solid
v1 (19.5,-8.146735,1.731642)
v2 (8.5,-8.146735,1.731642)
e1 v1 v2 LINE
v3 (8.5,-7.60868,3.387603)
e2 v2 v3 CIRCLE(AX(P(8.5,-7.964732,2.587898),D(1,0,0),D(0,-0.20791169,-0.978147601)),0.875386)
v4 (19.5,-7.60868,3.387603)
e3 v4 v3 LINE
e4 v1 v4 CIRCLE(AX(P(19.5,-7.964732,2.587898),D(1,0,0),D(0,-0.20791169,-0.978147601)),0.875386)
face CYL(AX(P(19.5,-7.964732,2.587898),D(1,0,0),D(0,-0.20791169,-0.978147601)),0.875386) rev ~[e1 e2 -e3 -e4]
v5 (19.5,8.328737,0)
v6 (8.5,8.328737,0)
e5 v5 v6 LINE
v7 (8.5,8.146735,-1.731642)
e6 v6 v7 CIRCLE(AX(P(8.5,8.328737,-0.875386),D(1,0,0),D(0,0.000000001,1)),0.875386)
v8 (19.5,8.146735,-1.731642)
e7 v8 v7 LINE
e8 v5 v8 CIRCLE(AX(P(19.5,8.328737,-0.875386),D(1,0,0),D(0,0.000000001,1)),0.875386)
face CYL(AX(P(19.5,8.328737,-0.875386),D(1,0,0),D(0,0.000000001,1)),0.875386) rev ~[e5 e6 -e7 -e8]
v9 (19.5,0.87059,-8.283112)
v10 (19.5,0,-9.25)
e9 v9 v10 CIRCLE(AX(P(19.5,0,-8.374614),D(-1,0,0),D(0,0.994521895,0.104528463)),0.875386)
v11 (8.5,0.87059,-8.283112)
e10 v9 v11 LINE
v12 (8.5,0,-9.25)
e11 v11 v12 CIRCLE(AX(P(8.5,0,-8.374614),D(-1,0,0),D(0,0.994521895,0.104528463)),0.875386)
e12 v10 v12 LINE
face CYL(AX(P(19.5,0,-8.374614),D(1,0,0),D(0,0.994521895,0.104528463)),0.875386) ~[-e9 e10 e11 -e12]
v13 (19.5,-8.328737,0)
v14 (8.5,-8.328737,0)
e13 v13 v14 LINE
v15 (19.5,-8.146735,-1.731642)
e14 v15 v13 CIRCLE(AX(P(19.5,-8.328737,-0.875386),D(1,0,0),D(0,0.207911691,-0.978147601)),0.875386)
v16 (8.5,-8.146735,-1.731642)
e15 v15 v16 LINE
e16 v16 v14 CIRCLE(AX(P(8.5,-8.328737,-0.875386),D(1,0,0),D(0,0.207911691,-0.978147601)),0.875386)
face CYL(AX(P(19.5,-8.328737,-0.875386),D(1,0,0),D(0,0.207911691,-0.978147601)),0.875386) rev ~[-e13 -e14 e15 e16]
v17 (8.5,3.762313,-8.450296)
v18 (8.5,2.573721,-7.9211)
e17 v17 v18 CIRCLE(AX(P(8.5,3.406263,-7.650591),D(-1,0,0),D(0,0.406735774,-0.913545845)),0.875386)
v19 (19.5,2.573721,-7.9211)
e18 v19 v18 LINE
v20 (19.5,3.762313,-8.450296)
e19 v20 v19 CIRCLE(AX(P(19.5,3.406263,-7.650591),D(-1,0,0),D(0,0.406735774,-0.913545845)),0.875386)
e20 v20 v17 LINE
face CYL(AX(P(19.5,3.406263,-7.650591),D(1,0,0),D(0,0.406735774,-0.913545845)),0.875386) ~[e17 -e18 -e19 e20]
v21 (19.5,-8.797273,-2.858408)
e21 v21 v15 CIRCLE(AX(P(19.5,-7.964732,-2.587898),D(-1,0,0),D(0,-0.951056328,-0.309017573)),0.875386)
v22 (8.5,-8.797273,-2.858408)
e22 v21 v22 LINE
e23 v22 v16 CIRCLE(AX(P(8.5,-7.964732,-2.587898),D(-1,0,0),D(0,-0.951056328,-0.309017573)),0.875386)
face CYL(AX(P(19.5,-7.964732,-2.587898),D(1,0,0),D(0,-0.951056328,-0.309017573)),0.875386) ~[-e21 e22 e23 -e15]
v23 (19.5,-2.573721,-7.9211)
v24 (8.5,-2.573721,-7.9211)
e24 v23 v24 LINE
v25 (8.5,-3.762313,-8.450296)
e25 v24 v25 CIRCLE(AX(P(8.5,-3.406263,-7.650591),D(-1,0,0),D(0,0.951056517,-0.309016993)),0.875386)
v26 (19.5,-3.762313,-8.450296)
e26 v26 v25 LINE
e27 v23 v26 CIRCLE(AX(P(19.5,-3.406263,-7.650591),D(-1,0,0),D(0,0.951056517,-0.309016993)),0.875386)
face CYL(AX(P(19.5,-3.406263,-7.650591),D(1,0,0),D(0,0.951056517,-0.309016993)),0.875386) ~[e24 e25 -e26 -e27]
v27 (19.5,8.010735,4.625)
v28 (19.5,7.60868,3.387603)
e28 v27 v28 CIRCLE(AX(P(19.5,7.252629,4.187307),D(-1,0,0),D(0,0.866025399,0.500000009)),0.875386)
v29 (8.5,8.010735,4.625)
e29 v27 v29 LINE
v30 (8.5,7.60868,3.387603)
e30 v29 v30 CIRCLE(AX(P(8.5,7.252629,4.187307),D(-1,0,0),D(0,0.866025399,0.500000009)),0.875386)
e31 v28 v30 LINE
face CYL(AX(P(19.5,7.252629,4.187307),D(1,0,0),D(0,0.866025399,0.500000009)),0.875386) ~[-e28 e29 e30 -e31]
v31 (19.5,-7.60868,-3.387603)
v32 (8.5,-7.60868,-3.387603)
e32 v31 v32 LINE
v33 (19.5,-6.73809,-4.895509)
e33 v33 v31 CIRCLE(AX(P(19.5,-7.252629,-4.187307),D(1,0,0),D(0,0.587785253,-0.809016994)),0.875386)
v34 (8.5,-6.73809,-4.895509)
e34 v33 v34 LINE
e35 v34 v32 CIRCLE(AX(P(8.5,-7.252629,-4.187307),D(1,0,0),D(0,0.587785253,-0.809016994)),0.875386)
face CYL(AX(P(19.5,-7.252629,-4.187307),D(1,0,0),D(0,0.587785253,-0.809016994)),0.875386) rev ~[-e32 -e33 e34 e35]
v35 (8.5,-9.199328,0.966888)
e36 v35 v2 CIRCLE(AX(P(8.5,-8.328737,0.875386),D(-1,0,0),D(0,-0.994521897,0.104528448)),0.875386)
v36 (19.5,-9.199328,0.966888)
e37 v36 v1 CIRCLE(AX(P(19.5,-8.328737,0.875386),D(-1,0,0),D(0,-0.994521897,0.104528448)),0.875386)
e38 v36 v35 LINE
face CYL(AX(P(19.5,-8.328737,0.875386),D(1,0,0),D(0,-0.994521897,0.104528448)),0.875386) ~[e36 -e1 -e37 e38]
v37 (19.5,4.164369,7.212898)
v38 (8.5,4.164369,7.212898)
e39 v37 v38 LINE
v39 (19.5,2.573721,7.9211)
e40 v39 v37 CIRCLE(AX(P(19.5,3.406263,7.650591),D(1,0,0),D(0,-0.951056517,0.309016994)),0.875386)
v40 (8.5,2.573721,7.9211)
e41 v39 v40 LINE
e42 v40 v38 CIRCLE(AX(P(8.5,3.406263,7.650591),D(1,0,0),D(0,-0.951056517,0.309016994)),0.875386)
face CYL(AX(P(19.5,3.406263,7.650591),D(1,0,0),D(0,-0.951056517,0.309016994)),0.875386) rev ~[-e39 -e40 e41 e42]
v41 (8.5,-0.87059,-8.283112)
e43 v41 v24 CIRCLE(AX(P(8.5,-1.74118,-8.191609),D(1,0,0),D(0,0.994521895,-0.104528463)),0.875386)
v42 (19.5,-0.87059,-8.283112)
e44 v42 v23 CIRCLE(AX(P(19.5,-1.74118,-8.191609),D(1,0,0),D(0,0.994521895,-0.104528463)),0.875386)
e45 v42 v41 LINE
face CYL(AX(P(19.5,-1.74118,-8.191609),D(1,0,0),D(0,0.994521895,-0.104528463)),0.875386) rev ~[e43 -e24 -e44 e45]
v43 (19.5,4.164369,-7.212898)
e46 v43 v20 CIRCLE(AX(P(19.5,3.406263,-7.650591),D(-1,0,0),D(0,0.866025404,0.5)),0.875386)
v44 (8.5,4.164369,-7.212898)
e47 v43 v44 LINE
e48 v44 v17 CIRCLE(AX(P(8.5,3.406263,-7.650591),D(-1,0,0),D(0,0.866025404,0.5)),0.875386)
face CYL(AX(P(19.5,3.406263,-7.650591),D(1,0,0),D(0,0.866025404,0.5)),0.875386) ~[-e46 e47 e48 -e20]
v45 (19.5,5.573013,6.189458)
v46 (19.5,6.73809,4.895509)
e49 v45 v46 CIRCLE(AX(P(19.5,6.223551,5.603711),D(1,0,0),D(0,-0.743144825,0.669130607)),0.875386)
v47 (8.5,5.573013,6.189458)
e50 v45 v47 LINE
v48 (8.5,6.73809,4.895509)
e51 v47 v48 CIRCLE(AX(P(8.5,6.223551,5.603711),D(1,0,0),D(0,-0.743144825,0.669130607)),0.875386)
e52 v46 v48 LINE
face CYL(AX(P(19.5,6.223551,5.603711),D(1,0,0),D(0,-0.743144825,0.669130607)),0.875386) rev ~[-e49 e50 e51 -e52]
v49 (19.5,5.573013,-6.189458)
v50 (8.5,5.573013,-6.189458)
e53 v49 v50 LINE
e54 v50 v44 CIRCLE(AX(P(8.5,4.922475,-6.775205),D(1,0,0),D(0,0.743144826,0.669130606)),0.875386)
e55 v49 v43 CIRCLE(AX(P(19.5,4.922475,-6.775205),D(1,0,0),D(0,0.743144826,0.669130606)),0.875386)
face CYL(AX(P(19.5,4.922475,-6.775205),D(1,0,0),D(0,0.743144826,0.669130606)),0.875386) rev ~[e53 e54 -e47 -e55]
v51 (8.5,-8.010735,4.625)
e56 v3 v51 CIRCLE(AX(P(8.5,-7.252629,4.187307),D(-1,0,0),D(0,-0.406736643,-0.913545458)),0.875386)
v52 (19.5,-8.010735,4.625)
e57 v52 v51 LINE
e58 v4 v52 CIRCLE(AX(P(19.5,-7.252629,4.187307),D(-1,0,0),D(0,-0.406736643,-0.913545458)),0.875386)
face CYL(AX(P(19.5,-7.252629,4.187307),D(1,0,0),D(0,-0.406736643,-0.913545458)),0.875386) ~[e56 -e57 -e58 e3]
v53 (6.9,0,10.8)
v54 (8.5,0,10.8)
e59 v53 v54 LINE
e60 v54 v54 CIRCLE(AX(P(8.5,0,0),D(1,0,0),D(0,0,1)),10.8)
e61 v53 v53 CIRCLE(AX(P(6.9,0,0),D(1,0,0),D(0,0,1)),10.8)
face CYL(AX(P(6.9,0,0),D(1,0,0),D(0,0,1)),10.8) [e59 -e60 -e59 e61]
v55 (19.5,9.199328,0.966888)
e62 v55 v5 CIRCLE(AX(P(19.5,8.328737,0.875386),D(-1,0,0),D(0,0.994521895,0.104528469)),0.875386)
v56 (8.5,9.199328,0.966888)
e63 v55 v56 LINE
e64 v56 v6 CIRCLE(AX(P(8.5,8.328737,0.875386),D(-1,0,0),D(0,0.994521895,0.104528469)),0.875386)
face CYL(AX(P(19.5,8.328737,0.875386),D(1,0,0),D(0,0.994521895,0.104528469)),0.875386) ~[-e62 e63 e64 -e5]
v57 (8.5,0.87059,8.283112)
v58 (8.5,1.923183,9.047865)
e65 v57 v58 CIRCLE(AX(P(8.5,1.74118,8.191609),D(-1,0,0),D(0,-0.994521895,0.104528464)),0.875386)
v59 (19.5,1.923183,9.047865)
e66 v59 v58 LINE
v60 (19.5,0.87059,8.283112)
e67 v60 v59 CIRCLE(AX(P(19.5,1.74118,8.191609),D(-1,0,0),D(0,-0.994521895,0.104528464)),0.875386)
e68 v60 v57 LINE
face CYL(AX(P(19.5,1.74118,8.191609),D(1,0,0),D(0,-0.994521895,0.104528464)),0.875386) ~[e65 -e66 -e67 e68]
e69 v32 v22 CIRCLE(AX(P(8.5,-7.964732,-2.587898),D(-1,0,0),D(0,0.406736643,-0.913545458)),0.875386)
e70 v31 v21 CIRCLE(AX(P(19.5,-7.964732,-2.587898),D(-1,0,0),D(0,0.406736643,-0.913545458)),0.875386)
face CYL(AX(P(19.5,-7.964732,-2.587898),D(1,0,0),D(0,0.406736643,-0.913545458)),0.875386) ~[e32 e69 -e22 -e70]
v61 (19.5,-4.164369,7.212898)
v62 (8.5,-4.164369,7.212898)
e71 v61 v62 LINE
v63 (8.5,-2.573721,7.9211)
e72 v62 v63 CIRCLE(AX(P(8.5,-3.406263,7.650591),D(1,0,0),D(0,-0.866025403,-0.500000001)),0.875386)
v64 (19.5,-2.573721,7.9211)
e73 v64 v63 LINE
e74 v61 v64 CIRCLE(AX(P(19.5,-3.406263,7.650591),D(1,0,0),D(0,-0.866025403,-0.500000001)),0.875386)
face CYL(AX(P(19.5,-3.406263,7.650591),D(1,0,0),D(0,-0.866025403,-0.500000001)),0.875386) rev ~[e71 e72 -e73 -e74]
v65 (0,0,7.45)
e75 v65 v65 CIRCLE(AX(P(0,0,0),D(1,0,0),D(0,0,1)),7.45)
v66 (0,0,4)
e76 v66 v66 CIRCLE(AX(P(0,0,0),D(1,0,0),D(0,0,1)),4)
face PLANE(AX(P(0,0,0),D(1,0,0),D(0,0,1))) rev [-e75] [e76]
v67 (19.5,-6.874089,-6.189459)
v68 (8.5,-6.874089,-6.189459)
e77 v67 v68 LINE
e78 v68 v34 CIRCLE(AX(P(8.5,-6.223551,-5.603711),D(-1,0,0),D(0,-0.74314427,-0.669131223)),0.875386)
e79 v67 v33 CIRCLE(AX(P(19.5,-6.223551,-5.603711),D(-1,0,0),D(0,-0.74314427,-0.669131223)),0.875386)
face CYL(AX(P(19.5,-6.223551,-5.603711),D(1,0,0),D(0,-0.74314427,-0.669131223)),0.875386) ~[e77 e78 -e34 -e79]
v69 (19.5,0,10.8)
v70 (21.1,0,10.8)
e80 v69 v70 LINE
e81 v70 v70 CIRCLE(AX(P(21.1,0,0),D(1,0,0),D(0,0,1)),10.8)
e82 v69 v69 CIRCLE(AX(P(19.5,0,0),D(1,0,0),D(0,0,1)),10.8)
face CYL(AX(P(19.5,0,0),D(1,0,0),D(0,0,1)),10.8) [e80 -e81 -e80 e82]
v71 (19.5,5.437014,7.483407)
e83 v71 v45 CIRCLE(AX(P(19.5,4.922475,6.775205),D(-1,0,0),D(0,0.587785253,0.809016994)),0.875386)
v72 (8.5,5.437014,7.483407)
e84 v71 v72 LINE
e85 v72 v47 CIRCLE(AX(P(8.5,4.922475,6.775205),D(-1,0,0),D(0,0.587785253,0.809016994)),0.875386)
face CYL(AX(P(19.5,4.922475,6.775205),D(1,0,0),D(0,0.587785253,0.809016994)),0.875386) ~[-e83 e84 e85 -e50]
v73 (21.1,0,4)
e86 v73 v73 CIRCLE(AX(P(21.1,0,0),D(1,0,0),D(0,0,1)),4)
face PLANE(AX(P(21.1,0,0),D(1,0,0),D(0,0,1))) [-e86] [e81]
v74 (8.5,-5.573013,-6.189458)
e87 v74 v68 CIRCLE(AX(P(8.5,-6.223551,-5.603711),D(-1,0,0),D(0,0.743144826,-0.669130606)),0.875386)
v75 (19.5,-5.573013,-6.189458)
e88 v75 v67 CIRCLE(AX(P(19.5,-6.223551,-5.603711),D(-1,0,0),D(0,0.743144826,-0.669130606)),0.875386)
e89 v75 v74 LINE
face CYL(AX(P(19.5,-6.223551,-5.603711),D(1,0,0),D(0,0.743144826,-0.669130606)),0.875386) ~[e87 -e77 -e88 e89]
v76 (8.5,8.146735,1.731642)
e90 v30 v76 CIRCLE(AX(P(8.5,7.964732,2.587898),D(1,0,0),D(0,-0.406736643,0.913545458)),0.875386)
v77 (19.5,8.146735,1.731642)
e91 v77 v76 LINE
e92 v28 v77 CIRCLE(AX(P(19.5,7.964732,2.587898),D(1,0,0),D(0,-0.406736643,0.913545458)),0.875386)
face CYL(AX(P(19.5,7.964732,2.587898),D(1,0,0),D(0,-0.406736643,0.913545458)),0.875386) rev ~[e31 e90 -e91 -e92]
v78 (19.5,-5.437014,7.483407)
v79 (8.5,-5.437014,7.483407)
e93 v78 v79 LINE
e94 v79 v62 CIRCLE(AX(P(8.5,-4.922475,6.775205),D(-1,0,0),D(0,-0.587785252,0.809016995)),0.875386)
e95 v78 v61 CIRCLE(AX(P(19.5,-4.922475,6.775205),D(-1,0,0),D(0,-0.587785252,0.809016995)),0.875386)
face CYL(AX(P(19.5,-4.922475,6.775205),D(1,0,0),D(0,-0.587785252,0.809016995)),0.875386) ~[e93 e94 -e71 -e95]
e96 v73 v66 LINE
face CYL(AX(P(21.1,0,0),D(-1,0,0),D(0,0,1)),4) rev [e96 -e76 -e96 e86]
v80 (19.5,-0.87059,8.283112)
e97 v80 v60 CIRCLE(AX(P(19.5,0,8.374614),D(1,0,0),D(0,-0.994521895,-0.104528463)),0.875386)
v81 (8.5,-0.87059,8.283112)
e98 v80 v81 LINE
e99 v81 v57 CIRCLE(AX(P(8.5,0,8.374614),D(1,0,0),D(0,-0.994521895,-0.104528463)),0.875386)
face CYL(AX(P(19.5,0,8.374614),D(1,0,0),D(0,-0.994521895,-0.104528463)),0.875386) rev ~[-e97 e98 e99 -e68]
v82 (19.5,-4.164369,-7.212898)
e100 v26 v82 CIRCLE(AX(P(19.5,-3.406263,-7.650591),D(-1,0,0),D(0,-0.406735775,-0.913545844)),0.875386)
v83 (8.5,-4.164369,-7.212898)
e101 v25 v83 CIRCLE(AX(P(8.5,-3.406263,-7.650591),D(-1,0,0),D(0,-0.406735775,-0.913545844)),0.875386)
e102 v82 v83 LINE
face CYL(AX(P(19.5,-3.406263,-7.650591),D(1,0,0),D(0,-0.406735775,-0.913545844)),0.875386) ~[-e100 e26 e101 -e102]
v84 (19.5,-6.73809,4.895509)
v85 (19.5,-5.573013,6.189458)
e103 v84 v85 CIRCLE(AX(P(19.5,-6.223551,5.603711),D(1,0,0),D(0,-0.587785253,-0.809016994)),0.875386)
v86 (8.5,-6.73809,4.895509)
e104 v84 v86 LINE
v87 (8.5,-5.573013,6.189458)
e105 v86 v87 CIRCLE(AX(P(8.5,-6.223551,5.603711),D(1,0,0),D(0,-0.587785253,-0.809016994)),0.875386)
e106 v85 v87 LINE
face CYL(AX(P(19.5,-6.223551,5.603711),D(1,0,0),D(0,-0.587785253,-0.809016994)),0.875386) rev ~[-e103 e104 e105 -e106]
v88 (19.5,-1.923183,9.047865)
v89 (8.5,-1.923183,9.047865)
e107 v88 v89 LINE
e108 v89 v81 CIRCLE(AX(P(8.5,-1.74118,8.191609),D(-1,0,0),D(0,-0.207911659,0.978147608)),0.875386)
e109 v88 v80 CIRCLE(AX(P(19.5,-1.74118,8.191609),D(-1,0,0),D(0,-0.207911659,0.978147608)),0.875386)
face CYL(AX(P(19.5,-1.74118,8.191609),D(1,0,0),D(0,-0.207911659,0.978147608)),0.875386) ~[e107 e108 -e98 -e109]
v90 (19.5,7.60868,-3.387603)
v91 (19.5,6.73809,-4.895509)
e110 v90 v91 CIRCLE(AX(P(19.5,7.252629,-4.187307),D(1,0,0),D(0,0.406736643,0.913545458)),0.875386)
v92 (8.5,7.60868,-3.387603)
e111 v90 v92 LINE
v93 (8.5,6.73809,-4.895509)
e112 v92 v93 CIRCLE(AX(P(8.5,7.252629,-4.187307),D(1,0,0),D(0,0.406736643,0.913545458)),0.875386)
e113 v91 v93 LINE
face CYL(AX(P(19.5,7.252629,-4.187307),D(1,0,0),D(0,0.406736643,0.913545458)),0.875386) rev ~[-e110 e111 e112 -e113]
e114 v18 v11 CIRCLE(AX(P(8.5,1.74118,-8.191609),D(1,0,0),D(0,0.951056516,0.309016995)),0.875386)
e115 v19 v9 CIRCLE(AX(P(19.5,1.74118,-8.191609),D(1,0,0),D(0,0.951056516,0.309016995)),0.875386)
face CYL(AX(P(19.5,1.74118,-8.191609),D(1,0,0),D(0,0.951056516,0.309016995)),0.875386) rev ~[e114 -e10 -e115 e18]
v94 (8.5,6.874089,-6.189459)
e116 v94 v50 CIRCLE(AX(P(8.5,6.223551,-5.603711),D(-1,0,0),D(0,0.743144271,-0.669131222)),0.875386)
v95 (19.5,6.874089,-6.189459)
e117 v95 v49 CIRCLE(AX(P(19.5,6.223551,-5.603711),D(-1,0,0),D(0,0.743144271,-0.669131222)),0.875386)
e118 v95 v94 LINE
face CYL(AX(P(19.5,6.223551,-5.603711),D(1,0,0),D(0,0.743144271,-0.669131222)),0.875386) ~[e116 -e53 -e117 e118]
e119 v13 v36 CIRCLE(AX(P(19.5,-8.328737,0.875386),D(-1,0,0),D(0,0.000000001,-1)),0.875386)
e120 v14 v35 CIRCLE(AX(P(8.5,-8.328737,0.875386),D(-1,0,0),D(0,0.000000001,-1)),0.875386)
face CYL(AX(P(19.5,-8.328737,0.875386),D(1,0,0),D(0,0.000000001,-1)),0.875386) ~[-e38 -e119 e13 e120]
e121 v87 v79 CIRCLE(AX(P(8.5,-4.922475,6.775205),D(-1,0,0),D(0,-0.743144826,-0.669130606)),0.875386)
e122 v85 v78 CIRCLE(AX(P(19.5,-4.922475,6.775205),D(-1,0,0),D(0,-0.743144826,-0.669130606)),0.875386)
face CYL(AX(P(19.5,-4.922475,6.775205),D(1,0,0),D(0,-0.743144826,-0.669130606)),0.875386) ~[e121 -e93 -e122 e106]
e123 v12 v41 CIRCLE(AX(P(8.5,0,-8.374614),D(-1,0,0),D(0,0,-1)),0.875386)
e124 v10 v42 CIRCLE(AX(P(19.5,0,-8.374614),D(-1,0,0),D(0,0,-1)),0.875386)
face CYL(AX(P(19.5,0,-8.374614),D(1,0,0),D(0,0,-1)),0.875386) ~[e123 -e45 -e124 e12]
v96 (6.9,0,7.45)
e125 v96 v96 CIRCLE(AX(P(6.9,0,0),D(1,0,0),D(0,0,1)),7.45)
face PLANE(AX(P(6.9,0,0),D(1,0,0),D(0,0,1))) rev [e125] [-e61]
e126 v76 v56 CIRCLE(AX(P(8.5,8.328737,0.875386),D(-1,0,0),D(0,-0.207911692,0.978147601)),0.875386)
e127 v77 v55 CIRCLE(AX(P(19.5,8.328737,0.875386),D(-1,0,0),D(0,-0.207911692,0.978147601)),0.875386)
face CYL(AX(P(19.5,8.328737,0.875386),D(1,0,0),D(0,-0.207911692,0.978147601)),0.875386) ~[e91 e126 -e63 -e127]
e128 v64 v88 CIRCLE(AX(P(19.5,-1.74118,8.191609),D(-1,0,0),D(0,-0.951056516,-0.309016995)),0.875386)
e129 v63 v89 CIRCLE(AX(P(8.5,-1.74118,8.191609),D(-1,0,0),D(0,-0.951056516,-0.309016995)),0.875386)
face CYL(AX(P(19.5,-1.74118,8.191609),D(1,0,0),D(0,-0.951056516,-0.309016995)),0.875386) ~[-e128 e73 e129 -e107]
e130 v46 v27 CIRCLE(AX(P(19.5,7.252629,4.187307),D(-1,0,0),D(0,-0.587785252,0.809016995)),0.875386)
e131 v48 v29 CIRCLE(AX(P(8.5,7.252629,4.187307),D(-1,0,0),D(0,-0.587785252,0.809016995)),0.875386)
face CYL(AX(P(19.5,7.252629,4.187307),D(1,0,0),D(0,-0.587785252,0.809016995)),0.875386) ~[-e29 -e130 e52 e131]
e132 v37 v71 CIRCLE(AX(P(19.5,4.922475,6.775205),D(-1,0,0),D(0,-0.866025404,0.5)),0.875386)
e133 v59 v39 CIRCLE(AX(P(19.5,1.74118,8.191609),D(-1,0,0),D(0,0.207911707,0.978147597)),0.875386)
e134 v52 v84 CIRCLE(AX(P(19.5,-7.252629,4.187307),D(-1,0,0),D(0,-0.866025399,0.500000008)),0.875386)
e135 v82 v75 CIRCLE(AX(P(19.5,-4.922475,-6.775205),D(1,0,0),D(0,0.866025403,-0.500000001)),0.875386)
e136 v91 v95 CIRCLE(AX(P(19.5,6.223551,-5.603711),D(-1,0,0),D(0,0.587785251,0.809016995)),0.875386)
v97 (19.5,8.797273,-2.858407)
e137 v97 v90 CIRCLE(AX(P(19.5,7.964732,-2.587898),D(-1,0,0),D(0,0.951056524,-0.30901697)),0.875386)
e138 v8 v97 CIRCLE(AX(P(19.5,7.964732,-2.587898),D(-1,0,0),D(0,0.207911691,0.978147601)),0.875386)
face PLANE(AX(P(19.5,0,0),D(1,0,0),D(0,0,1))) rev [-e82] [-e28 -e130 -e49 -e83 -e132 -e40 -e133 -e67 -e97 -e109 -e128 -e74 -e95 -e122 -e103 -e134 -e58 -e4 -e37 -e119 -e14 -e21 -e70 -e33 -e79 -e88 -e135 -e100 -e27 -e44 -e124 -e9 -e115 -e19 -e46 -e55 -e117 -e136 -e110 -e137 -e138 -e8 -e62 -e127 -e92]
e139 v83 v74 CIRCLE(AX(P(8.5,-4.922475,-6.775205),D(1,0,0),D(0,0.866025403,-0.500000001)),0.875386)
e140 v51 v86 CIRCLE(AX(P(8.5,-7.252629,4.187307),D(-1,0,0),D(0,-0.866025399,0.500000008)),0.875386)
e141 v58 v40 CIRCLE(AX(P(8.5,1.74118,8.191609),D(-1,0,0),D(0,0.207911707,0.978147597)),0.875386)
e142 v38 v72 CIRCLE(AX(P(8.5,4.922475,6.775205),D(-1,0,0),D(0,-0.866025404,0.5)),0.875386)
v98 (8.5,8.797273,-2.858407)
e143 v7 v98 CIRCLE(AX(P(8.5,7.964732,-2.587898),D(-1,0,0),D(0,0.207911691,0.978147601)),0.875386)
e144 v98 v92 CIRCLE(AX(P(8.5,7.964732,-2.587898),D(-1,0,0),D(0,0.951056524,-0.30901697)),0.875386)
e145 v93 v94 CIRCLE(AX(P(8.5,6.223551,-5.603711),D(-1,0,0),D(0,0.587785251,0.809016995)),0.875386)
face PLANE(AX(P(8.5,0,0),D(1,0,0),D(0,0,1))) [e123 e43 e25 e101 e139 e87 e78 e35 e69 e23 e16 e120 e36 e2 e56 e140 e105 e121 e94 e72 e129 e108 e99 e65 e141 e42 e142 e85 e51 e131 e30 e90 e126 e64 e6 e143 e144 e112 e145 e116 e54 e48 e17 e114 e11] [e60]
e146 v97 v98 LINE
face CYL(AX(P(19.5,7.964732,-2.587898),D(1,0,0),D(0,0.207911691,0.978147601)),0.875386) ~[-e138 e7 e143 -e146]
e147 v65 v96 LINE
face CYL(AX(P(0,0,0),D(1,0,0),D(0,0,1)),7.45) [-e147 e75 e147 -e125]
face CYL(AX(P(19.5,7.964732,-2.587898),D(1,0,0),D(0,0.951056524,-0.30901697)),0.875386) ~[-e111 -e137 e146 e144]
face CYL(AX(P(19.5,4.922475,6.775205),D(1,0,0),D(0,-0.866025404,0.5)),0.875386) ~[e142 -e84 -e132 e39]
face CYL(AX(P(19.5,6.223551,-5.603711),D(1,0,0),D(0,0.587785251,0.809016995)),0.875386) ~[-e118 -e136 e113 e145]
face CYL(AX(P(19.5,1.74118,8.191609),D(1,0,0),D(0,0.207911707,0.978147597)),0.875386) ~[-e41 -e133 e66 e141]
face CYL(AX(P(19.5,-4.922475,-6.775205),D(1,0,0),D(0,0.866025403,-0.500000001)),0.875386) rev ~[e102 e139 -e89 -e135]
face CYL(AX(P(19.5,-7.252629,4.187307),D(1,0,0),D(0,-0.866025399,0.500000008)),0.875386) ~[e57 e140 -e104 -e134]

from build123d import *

# Parameters (mm, degrees)
CUT_EXTRUDE1_START = 11
CUT_EXTRUDE1_DEPTH = 11


with BuildPart() as part:
    # Sketch1 → Revolve2 (revolve)
    with BuildSketch(Plane.XY, mode=Mode.PRIVATE) as revolve2_sk:
        Polygon((0, 4), (0, 7.45), (6.9, 7.45), (6.9, 10.8), (8.5, 10.8), (8.5, 9.25), (19.5, 9.25), (19.5, 10.8), (21.1, 10.8), (21.1, 4), align=None)
    revolve(revolve2_sk.sketch.rotate(Axis((0, 0, 0), (1, 0, 0)), 90), axis=Axis((0, 0, 0), (1, 0, 0)))

    # Sketch4 → Cut-Extrude1 (cut)
    with BuildSketch(Plane(origin=(8.5, 0, 0), x_dir=(0, 0, -1), z_dir=(1, 0, 0)).offset(CUT_EXTRUDE1_START)):
        with BuildLine():
            ThreePointArc((7.212898178, 4.164368705), (7.921100382, 4.238803586), (8.450295822, 3.762313188))
            ThreePointArc((8.450295822, 3.762313188), (7.483407656, 5.437012953), (6.189458648, 6.87408915))
            ThreePointArc((6.189458648, 6.87408915), (6.479096404, 6.223551012), (6.189458109, 5.573013113))
            ThreePointArc((6.189458109, 5.573013113), (6.067003582, 4.40793612), (7.212898178, 4.164368705))
        make_face()
        with BuildLine():
            ThreePointArc((8.283111715, 0.870590122), (8.960361705, 0.650538261), (9.25, 0))
            ThreePointArc((9.25, 0), (9.047865393, 1.923182733), (8.450295822, 3.762313188))
            ThreePointArc((8.450295822, 3.762313188), (8.450295314, 3.050210787), (7.921099986, 2.573721401))
            ThreePointArc((7.921099986, 2.573721401), (7.335352705, 1.55917735), (8.283111715, 0.870590122))
        make_face()
        with BuildLine():
            ThreePointArc((8.450295822, -3.762313187), (9.047865393, -1.923182732), (9.25, 0))
            ThreePointArc((9.25, 0), (8.960361705, -0.650538261), (8.283111715, -0.870590122))
            ThreePointArc((8.283111715, -0.870590122), (7.335352705, -1.55917735), (7.921099986, -2.573721401))
            ThreePointArc((7.921099986, -2.573721401), (8.450295314, -3.050210786), (8.450295822, -3.762313187))
        make_face()
        with BuildLine():
            ThreePointArc((6.189458648, -6.87408915), (7.483407656, -5.437012953), (8.450295822, -3.762313187))
            ThreePointArc((8.450295822, -3.762313187), (7.921100382, -4.238803585), (7.212898178, -4.164368705))
            ThreePointArc((7.212898178, -4.164368705), (6.067003582, -4.40793612), (6.189458109, -5.573013113))
            ThreePointArc((6.189458109, -5.573013113), (6.479096404, -6.223551011), (6.189458648, -6.87408915))
        make_face()
        with BuildLine():
            ThreePointArc((2.858407704, -8.797272611), (4.625000545, -8.010734671), (6.189458648, -6.87408915))
            ThreePointArc((6.189458648, -6.87408915), (5.512208479, -7.094141535), (4.89550902, -6.738090106))
            ThreePointArc((4.89550902, -6.738090106), (3.749614424, -6.494522691), (3.387602695, -7.608680229))
            ThreePointArc((3.387602695, -7.608680229), (3.387602803, -8.320782767), (2.858407704, -8.797272611))
        make_face()
        with BuildLine():
            ThreePointArc((-0.966888273, -9.199327533), (0.966888556, -9.199327504), (2.858407704, -8.797272611))
            ThreePointArc((2.858407704, -8.797272611), (2.15020562, -8.722837899), (1.731641877, -8.146734514))
            ThreePointArc((1.731641877, -8.146734514), (0.783882867, -7.458147287), (0, -8.32873741))
            ThreePointArc((0, -8.32873741), (-0.28963829, -8.979275667), (-0.966888273, -9.199327533))
        make_face()
        with BuildLine():
            ThreePointArc((-4.625000007, -8.010734981), (-2.858407196, -8.797272776), (-0.966888273, -9.199327533))
            ThreePointArc((-0.966888273, -9.199327533), (-1.58358738, -8.843276147), (-1.731641877, -8.146734514))
            ThreePointArc((-1.731641877, -8.146734514), (-2.317389159, -7.132190463), (-3.387602695, -7.608680229))
            ThreePointArc((-3.387602695, -7.608680229), (-3.916798196, -8.085169996), (-4.625000007, -8.010734981))
        make_face()
        with BuildLine():
            ThreePointArc((-7.483407198, -5.437013584), (-6.189458111, -6.874089633), (-4.625000007, -8.010734981))
            ThreePointArc((-4.625000007, -8.010734981), (-5.043563514, -7.434631729), (-4.89550902, -6.738090106))
            ThreePointArc((-4.89550902, -6.738090106), (-5.017963546, -5.573013113), (-6.189458109, -5.573013113))
            ThreePointArc((-6.189458109, -5.573013113), (-6.866708099, -5.793064974), (-7.483407198, -5.437013584))
        make_face()
        with BuildLine():
            ThreePointArc((-9.047865313, -1.923183112), (-8.450295489, -3.762313935), (-7.483407198, -5.437013584))
            ThreePointArc((-7.483407198, -5.437013584), (-7.631461691, -4.740471957), (-7.212898178, -4.164368705))
            ThreePointArc((-7.212898178, -4.164368705), (-6.85088645, -3.050211167), (-7.921099986, -2.573721401))
            ThreePointArc((-7.921099986, -2.573721401), (-8.629301806, -2.499286385), (-9.047865313, -1.923183112))
        make_face()
        with BuildLine():
            ThreePointArc((-8.283111715, 0.870590122), (-8.899810818, 1.226641519), (-9.047865304, 1.923183154))
            ThreePointArc((-9.047865304, 1.923183154), (-9.25, 2.2e-08), (-9.047865313, -1.923183112))
            ThreePointArc((-9.047865313, -1.923183112), (-8.899810805, -1.226641501), (-8.283111715, -0.870590122))
            ThreePointArc((-8.283111715, -0.870590122), (-7.499228848, 0), (-8.283111715, 0.870590122))
        make_face()
        with BuildLine():
            ThreePointArc((-7.212898178, 4.164368705), (-7.631461691, 4.740471957), (-7.483407198, 5.437013584))
            ThreePointArc((-7.483407198, 5.437013584), (-8.45029548, 3.762313955), (-9.047865304, 1.923183154))
            ThreePointArc((-9.047865304, 1.923183154), (-8.629301788, 2.499286395), (-7.921099986, 2.573721401))
            ThreePointArc((-7.921099986, 2.573721401), (-6.85088645, 3.050211167), (-7.212898178, 4.164368705))
        make_face()
        with BuildLine():
            ThreePointArc((-4.89550902, 6.738090106), (-5.043563514, 7.434631729), (-4.625000007, 8.010734981))
            ThreePointArc((-4.625000007, 8.010734981), (-6.189458111, 6.874089633), (-7.483407198, 5.437013584))
            ThreePointArc((-7.483407198, 5.437013584), (-6.866708099, 5.793064974), (-6.189458109, 5.573013113))
            ThreePointArc((-6.189458109, 5.573013113), (-5.017963546, 5.573013113), (-4.89550902, 6.738090106))
        make_face()
        with BuildLine():
            ThreePointArc((-1.731641877, 8.146734514), (-1.583587386, 8.843276139), (-0.966888291, 9.199327532))
            ThreePointArc((-0.966888291, 9.199327532), (-2.858407204, 8.797272774), (-4.625000007, 8.010734981))
            ThreePointArc((-4.625000007, 8.010734981), (-3.916798196, 8.085169996), (-3.387602695, 7.608680229))
            ThreePointArc((-3.387602695, 7.608680229), (-2.317389159, 7.132190463), (-1.731641877, 8.146734514))
        make_face()
        with BuildLine():
            ThreePointArc((1.731641877, 8.146734514), (2.15020538, 8.72283776), (2.858407176, 8.797272783))
            ThreePointArc((2.858407176, 8.797272783), (0.966888271, 9.199327534), (-0.966888291, 9.199327532))
            ThreePointArc((-0.966888291, 9.199327532), (-0.289638297, 8.979275673), (0, 8.32873741))
            ThreePointArc((0, 8.32873741), (0.783882867, 7.458147287), (1.731641877, 8.146734514))
        make_face()
        with BuildLine():
            ThreePointArc((4.89550902, 6.738090106), (5.512208479, 7.094141535), (6.189458648, 6.87408915))
            ThreePointArc((6.189458648, 6.87408915), (4.625000304, 8.010734809), (2.858407176, 8.797272783))
            ThreePointArc((2.858407176, 8.797272783), (3.38760269, 8.320783021), (3.387602695, 7.608680229))
            ThreePointArc((3.387602695, 7.608680229), (3.749614424, 6.494522691), (4.89550902, 6.738090106))
        make_face()
    extrude(amount=-CUT_EXTRUDE1_DEPTH, mode=Mode.SUBTRACT)


solid = part.part
